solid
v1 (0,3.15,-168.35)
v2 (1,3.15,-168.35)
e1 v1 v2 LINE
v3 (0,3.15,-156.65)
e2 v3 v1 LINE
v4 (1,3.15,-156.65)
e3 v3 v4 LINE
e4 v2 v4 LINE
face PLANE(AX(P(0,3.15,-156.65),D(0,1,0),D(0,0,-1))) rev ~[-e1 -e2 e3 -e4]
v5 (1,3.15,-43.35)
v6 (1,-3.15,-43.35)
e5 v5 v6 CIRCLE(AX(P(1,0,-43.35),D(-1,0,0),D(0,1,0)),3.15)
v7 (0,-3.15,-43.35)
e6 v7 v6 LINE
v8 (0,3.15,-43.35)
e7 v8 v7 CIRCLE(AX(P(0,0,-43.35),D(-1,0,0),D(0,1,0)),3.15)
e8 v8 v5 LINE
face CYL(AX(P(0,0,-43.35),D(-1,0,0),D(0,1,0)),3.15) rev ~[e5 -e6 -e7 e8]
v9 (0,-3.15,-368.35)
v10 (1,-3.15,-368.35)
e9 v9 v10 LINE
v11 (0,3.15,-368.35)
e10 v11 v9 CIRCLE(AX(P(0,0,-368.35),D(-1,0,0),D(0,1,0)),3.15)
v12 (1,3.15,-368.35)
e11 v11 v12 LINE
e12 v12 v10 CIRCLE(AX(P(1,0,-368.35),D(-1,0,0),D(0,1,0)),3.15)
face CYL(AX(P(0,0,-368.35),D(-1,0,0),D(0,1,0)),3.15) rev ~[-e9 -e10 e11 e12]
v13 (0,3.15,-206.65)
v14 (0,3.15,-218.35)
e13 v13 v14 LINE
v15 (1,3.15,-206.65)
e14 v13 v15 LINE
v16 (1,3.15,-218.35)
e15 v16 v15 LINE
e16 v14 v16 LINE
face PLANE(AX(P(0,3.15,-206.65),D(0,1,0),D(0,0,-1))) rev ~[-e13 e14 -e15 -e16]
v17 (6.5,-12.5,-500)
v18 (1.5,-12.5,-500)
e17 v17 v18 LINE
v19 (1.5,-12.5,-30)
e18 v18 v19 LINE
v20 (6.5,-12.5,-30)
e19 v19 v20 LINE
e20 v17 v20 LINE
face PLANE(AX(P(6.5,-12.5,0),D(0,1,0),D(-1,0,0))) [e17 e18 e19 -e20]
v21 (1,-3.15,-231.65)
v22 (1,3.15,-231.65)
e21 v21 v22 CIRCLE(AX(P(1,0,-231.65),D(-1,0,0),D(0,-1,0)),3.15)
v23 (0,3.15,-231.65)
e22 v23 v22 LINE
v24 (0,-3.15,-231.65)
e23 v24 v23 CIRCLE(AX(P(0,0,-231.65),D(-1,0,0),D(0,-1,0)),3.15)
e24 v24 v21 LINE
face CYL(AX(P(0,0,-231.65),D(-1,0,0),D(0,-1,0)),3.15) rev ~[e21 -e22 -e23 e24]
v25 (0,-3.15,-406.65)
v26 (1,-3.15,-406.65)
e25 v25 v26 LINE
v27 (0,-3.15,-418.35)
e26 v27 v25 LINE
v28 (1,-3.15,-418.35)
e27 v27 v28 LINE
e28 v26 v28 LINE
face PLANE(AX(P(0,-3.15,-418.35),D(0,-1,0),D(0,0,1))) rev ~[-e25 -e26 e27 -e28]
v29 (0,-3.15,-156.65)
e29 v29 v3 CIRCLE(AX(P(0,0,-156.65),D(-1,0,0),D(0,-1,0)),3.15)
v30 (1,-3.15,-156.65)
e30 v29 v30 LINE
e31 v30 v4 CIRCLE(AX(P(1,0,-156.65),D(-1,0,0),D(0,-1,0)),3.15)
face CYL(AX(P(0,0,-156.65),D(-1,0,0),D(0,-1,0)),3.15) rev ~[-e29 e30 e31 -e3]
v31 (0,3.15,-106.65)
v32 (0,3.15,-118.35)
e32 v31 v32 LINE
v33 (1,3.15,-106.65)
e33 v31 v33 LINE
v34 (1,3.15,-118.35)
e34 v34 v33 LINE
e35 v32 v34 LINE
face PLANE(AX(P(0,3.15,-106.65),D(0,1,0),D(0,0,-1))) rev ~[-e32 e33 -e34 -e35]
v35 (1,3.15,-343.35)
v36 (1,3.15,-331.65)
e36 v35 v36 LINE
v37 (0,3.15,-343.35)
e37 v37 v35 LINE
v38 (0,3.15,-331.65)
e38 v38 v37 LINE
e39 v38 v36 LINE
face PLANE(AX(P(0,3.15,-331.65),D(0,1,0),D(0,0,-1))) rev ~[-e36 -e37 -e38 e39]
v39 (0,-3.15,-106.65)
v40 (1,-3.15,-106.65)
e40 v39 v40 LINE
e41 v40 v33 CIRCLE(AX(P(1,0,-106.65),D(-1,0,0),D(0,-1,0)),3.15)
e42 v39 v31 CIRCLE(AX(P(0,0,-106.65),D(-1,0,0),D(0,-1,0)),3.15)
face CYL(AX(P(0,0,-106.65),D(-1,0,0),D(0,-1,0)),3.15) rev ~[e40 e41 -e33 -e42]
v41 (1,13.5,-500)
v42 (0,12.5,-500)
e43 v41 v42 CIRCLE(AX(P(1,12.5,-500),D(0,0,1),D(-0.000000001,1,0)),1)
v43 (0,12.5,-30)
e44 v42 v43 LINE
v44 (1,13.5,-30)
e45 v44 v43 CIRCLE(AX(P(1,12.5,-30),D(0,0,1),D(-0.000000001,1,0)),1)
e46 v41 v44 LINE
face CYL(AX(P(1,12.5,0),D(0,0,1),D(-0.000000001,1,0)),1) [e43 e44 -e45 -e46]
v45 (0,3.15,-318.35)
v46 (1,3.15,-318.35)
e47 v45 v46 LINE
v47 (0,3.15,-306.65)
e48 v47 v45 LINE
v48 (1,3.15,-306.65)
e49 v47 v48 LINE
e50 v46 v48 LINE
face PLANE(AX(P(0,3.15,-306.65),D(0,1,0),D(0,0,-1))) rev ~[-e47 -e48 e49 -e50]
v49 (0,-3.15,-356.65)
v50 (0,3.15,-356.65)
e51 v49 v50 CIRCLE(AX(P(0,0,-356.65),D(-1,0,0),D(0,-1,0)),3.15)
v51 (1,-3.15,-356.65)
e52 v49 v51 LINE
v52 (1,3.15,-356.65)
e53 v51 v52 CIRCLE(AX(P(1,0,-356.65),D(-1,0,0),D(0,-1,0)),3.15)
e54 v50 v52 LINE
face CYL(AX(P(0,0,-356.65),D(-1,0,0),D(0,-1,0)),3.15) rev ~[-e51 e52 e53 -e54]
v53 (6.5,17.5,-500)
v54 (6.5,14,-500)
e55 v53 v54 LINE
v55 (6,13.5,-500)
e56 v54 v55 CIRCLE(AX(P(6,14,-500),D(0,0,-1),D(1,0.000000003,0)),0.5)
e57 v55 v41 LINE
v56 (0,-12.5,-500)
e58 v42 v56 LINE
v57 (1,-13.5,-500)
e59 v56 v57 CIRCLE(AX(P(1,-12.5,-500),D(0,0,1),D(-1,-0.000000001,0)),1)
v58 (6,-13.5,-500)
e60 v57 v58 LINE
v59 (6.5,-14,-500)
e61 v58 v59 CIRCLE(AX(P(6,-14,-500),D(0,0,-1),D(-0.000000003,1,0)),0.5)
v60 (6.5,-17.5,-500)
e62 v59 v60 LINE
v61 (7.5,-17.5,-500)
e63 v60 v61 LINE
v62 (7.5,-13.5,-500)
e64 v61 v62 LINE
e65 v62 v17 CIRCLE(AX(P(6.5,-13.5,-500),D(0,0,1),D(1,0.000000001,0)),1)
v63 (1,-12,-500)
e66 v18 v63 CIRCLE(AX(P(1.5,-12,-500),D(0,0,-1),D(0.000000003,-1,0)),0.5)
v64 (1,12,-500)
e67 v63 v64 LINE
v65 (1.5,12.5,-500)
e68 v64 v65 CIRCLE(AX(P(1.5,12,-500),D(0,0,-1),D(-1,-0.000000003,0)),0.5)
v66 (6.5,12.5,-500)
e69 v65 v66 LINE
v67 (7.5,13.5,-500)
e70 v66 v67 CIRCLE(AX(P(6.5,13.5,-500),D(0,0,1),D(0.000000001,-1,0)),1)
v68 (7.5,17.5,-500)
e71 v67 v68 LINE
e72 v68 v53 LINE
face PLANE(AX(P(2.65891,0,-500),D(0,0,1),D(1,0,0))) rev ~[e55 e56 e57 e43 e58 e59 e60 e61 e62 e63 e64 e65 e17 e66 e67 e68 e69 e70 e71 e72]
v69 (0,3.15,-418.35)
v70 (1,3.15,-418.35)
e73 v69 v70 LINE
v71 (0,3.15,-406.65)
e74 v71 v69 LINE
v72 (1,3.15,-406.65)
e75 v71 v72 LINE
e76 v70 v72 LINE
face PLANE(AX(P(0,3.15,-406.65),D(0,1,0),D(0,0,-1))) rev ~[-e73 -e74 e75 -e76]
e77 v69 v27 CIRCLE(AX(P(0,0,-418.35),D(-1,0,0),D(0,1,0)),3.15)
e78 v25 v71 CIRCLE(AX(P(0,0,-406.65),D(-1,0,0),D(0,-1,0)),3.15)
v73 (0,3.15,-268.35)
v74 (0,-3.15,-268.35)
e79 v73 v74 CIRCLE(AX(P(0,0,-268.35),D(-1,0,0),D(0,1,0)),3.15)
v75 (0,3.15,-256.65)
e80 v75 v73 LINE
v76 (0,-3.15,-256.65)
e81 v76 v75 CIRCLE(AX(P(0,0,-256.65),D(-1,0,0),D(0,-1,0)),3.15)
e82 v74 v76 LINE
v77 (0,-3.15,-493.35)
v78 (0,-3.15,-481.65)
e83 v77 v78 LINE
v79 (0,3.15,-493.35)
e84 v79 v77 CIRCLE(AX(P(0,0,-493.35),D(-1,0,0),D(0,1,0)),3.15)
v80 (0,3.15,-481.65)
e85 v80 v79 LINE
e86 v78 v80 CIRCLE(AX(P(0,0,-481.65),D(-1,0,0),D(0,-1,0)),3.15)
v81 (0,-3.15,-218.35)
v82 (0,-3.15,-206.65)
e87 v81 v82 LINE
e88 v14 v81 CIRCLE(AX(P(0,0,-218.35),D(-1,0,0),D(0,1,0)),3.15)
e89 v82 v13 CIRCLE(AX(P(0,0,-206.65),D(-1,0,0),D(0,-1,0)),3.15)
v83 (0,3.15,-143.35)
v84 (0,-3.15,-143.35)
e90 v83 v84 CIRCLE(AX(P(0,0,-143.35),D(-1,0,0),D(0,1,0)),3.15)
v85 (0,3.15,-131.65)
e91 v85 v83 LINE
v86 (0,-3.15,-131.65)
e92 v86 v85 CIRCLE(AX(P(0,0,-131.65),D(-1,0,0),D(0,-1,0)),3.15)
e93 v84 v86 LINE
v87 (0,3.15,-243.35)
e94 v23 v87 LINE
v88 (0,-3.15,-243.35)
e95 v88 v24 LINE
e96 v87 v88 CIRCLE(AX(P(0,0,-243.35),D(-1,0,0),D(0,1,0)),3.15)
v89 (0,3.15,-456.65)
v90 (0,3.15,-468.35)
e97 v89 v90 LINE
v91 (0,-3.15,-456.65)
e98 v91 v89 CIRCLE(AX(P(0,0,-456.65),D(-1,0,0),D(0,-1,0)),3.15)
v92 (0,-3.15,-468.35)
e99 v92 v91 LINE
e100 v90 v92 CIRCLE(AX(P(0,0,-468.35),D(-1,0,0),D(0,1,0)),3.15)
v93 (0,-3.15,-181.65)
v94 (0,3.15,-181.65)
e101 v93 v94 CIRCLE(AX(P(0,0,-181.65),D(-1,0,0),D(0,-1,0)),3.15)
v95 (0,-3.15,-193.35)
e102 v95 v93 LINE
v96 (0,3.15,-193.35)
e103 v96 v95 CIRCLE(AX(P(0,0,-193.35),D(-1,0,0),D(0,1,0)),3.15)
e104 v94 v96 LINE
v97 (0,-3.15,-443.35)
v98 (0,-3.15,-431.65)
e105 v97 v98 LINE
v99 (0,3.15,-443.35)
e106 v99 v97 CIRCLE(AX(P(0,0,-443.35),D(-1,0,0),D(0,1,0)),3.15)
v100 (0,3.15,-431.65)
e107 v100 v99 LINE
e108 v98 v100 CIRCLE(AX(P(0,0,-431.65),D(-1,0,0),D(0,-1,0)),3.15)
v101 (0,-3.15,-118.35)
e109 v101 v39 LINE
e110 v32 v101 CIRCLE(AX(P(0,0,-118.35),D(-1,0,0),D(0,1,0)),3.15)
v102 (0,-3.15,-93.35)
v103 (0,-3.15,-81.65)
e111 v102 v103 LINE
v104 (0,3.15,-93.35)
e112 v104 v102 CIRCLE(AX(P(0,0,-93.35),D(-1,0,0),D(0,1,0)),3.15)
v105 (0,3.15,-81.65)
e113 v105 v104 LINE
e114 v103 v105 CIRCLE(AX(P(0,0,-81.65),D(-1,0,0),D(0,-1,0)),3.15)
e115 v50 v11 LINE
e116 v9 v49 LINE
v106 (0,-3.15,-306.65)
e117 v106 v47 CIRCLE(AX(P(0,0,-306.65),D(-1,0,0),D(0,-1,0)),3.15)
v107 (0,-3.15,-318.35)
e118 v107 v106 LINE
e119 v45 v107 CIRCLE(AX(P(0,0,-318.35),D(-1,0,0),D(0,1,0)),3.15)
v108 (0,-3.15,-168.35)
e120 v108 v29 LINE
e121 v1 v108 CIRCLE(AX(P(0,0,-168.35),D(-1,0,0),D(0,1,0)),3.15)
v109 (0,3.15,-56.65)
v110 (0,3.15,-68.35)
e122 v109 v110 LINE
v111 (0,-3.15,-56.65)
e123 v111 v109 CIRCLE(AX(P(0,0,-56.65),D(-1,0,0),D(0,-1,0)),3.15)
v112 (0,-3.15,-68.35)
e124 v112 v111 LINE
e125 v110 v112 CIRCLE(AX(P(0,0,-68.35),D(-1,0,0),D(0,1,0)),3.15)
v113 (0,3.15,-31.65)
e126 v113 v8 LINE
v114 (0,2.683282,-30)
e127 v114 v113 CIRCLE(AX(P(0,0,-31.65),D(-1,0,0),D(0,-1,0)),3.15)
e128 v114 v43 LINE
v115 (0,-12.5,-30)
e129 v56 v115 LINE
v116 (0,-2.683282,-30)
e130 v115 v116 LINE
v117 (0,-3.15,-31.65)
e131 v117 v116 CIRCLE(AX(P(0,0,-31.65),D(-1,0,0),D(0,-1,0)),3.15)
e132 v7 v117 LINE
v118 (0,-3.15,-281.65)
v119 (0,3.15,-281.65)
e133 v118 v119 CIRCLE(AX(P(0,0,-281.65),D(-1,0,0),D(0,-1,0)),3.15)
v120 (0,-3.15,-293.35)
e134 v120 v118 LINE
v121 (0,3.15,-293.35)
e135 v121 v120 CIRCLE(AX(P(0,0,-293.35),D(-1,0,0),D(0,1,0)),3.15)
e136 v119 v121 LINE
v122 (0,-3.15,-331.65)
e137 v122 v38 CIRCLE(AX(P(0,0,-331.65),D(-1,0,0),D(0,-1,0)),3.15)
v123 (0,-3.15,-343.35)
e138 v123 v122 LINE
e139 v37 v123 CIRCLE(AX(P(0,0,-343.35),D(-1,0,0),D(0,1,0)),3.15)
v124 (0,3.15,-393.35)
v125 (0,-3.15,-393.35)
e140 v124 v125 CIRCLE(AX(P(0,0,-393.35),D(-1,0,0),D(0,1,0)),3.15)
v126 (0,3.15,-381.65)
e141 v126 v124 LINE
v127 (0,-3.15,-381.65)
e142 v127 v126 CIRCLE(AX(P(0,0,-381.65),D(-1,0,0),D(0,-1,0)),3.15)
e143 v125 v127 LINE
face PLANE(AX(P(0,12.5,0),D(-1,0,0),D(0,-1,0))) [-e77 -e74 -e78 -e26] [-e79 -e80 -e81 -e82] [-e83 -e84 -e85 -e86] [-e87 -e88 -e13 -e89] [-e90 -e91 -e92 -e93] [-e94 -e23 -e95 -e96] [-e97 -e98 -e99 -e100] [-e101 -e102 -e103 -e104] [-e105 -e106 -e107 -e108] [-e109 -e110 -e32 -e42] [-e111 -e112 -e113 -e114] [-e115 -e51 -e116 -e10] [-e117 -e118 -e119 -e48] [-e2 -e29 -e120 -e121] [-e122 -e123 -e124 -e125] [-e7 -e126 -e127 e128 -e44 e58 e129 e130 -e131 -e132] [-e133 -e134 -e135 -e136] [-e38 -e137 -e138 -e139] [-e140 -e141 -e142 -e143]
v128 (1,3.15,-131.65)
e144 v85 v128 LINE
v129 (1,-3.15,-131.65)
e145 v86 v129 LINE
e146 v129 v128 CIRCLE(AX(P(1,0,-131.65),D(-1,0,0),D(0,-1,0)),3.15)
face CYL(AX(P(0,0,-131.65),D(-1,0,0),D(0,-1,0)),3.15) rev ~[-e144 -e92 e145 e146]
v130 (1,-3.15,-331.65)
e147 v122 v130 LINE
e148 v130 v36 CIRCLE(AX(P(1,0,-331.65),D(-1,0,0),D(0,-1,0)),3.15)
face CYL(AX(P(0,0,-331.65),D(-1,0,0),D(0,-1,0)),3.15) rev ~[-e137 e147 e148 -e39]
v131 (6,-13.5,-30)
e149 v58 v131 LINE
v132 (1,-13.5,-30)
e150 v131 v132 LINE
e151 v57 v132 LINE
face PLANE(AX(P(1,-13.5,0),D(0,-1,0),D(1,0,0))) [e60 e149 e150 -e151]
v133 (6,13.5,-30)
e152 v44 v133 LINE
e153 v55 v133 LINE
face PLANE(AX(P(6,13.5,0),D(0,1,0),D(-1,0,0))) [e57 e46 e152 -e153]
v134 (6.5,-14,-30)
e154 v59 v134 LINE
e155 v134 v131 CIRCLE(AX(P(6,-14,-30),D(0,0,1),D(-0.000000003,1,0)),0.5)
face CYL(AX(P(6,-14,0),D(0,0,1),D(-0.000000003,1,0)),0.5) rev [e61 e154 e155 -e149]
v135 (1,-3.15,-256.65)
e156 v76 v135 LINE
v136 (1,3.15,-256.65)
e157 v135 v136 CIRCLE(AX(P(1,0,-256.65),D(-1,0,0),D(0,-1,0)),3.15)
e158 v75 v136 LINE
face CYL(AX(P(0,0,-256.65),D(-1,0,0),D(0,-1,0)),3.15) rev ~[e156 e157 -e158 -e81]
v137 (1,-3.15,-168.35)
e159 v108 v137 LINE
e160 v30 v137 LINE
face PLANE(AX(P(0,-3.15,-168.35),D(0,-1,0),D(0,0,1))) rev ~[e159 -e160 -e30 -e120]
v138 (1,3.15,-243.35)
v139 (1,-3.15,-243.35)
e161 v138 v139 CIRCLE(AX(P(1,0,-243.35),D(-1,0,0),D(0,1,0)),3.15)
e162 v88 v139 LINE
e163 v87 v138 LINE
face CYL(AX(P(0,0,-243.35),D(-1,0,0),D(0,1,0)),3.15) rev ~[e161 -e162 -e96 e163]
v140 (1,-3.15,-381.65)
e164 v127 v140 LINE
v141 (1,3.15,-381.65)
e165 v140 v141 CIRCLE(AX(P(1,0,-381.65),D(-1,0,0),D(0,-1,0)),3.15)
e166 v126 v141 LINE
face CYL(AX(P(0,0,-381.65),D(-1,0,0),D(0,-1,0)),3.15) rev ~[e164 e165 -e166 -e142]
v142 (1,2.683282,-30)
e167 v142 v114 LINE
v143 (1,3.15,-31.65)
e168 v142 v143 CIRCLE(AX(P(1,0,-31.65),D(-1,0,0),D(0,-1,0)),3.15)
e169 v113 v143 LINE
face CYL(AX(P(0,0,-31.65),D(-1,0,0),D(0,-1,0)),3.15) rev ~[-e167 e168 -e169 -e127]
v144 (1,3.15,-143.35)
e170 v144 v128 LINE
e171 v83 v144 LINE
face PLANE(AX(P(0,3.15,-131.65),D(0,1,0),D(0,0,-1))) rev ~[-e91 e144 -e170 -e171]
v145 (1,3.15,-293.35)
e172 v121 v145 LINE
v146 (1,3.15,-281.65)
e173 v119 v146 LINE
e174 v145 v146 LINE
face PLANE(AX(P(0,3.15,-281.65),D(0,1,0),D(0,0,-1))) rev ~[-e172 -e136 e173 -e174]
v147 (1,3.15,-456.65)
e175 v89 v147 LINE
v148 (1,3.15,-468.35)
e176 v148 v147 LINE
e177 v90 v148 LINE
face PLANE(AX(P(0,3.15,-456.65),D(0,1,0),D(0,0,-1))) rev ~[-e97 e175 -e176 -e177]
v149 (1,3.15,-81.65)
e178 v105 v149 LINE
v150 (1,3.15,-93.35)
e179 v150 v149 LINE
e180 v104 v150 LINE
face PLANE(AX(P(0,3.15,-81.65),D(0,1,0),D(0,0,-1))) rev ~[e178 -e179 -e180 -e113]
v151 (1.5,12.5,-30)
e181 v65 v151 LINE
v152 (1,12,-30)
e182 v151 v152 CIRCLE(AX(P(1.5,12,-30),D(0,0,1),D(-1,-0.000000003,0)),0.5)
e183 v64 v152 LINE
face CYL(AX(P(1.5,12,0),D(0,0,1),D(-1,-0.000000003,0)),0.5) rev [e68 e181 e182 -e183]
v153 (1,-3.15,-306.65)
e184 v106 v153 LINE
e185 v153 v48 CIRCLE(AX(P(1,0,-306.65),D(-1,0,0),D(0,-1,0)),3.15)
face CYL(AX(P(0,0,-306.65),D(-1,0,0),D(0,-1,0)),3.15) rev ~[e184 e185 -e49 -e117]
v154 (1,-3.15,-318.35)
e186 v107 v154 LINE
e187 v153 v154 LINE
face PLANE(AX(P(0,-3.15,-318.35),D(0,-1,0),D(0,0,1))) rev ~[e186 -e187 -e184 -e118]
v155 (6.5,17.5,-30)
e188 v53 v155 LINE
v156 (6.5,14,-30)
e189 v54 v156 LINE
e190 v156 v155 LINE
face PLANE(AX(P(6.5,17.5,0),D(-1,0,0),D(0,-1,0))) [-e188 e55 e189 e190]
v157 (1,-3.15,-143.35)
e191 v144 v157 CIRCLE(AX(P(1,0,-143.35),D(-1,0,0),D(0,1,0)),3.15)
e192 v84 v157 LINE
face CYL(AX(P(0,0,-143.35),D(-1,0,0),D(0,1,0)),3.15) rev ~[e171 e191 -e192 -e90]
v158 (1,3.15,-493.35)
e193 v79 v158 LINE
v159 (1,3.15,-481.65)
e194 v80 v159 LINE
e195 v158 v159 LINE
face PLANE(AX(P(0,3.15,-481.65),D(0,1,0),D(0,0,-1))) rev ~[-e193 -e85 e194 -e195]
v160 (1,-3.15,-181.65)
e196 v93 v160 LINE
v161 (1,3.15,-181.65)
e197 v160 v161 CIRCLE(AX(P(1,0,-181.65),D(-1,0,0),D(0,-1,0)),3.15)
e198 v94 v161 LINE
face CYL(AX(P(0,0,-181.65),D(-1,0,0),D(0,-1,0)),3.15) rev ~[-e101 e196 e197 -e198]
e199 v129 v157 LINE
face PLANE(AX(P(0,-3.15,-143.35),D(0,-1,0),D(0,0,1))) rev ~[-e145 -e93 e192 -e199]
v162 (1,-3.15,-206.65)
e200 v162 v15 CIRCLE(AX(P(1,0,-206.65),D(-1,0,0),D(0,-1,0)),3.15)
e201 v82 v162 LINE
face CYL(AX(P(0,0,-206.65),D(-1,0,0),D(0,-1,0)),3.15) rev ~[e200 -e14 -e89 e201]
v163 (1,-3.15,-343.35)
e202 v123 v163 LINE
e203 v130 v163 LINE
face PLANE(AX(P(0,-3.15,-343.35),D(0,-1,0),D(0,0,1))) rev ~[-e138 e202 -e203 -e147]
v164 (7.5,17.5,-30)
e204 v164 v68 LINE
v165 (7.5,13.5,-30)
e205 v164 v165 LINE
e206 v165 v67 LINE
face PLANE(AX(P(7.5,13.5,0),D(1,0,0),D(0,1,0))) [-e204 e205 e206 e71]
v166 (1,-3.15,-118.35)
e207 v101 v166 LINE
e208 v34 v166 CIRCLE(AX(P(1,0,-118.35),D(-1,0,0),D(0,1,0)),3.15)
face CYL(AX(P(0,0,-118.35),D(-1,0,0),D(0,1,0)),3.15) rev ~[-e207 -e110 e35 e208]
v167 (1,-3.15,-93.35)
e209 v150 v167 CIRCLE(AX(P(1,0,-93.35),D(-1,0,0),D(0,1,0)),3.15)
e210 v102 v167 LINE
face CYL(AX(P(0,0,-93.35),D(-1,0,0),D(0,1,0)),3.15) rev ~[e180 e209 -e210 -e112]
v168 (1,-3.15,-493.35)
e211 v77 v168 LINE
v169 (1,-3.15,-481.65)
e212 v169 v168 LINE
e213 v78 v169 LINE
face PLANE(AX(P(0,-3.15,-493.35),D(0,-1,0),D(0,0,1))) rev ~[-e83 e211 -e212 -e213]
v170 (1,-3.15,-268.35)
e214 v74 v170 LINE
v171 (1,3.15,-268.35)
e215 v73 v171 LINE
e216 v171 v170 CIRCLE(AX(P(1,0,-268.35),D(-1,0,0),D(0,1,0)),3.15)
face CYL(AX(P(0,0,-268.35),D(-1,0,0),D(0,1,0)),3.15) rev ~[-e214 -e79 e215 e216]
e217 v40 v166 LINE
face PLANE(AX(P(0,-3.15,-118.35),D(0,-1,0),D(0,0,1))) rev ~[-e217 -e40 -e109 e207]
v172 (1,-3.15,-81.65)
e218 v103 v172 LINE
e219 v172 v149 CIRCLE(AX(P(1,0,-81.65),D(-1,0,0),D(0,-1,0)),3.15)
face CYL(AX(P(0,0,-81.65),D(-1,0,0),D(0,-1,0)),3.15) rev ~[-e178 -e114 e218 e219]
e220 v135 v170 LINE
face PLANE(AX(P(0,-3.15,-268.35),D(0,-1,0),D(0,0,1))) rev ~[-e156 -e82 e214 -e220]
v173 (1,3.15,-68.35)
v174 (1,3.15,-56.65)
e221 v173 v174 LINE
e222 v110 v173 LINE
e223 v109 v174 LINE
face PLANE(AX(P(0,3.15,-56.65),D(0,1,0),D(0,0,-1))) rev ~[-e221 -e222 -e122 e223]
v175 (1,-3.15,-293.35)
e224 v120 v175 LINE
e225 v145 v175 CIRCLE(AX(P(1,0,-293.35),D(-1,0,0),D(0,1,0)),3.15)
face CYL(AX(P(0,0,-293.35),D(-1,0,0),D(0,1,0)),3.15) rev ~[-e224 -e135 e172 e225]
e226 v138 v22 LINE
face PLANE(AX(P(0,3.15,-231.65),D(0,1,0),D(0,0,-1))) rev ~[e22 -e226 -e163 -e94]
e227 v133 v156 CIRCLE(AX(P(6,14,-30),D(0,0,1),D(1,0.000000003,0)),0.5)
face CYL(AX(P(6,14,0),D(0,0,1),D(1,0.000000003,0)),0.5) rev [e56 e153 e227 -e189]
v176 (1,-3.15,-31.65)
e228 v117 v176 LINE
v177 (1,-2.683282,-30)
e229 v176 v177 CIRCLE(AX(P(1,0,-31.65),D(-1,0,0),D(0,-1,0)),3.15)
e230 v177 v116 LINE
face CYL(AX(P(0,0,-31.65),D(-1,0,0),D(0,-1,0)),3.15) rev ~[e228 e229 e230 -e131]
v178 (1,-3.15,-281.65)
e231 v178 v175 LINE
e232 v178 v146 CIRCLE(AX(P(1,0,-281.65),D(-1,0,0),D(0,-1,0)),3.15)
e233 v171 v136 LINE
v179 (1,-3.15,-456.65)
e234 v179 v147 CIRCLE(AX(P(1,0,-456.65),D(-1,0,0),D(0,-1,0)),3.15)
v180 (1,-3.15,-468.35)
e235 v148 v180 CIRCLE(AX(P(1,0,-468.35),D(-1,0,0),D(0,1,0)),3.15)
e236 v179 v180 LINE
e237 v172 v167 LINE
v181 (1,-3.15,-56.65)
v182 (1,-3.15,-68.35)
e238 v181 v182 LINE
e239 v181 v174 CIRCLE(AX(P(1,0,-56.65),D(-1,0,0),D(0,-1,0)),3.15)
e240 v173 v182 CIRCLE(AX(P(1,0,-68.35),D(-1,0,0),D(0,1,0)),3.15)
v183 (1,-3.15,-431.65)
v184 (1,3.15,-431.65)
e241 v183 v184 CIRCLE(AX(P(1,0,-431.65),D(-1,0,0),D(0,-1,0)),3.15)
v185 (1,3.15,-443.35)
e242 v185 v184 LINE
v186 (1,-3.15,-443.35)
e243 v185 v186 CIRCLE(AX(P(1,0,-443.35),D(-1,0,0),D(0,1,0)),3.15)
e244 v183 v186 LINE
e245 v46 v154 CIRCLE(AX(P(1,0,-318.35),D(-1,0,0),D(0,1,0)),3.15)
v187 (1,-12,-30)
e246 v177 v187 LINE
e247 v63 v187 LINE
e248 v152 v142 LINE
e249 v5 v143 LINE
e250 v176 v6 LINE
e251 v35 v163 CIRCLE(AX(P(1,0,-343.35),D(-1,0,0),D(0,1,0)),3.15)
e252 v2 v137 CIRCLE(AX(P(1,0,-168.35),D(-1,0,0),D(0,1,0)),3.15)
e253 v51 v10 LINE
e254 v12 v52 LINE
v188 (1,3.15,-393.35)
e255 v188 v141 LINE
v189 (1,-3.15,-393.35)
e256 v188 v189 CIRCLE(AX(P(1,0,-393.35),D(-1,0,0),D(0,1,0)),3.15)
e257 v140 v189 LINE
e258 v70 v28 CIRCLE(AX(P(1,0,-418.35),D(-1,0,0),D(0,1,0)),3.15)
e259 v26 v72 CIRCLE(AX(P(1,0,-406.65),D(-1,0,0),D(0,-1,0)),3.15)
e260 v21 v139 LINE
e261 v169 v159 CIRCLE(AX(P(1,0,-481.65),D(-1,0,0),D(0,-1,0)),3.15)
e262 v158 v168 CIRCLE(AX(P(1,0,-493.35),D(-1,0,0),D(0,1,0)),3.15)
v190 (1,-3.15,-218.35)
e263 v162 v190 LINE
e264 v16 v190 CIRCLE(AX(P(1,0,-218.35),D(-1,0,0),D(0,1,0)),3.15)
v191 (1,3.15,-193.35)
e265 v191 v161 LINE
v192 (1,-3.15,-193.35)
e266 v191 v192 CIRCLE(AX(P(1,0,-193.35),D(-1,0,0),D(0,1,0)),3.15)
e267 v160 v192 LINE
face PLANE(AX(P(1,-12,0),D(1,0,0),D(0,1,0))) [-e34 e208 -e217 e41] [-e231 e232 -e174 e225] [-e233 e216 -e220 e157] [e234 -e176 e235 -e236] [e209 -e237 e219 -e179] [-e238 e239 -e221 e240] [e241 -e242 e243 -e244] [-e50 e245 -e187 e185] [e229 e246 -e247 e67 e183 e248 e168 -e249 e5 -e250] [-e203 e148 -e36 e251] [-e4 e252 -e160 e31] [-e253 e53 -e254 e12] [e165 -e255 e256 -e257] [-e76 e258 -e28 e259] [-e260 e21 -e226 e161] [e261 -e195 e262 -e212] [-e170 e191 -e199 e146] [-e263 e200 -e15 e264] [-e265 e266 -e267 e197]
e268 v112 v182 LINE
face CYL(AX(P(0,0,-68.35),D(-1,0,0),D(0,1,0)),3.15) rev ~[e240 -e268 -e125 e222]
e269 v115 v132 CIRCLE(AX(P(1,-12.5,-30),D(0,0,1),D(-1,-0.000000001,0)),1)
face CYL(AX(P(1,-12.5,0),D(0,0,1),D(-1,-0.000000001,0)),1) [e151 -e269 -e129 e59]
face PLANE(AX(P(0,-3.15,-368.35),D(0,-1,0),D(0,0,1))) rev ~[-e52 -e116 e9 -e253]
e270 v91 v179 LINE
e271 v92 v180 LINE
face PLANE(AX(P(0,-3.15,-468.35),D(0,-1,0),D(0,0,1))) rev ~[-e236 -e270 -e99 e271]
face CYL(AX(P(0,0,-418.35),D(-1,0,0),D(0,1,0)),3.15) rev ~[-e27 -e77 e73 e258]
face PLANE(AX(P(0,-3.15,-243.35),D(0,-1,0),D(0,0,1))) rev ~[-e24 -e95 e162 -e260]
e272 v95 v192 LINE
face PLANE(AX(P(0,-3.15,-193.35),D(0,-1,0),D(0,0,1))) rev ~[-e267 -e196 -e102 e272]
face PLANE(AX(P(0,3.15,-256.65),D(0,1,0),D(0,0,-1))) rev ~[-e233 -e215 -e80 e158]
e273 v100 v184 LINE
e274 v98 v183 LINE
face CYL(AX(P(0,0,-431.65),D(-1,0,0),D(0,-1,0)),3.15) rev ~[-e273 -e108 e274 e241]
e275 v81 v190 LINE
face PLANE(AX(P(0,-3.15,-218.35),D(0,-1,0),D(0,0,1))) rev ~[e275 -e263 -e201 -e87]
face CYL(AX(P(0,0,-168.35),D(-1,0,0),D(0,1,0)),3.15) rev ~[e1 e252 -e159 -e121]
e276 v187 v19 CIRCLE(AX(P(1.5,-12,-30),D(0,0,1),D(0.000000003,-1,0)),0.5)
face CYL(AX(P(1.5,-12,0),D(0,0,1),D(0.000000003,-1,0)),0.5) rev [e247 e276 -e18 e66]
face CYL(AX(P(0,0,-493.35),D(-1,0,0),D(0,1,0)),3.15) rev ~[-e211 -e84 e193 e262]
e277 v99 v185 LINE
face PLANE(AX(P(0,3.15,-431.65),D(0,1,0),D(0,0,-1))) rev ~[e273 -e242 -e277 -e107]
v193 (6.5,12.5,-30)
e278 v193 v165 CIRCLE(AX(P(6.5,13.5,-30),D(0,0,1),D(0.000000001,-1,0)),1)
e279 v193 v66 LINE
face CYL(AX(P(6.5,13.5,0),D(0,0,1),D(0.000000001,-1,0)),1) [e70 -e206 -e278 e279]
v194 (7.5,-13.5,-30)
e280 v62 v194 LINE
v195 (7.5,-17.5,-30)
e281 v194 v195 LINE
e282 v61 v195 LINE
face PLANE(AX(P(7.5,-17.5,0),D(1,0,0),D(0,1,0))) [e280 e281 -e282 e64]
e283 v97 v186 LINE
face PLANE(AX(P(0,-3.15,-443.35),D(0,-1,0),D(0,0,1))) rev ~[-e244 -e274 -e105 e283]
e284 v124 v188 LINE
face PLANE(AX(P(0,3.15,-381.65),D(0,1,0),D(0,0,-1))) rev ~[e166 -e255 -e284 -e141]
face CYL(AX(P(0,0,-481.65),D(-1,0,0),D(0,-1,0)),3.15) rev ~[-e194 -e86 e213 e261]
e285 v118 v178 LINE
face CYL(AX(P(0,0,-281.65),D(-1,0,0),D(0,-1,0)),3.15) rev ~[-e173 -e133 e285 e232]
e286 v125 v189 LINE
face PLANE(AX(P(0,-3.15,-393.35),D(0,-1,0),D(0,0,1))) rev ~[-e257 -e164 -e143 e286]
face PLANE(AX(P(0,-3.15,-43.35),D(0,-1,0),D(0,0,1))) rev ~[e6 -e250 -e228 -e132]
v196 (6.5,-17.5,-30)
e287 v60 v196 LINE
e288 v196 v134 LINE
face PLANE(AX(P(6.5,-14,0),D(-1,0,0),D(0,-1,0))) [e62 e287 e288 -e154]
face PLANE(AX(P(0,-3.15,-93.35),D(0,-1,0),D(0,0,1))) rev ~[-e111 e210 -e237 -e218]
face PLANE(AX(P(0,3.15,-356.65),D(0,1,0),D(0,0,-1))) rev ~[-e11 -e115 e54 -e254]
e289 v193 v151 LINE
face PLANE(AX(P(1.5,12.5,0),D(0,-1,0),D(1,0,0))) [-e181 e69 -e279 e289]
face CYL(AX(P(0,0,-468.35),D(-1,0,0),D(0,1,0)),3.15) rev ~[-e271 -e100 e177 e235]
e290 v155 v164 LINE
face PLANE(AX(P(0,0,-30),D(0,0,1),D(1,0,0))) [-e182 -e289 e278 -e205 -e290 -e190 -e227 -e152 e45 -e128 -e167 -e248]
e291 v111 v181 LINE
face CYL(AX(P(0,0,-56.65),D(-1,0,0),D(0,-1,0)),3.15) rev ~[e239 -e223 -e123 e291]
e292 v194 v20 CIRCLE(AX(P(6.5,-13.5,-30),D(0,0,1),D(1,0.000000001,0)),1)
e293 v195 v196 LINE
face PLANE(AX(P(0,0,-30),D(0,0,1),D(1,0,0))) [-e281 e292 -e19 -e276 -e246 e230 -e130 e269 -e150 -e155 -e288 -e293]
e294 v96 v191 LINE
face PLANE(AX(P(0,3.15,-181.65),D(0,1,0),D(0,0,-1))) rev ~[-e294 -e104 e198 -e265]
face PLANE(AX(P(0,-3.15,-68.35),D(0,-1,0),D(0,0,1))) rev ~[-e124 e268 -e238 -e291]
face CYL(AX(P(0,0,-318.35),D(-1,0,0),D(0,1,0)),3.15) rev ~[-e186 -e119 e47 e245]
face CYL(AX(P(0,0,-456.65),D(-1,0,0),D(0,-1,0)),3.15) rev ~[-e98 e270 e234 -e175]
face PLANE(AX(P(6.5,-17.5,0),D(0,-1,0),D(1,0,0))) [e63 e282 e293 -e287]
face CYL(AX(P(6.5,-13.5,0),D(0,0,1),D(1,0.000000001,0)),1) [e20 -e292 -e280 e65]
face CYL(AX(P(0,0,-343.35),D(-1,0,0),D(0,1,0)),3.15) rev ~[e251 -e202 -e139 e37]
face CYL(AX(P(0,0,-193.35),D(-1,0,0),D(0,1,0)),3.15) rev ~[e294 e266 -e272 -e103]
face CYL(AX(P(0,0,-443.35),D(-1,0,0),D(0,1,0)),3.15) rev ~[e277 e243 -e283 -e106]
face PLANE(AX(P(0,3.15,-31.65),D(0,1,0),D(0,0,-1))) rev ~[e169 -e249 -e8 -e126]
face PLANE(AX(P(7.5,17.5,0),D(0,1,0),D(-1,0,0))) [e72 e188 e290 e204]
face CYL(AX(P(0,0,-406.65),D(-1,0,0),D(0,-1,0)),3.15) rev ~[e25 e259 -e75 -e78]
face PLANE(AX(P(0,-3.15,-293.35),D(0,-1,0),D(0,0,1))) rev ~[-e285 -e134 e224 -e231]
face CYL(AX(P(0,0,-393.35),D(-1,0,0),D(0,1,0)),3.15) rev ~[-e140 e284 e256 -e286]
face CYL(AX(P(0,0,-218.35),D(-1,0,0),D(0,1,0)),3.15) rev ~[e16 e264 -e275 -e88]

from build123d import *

# Parameters (mm, degrees)
BOSS_EXTRUDE1_DEPTH = 500
CUT_EXTRUDE1_DEPTH  = 7.5
LPATTERN1_COUNT     = 40
LPATTERN1_PITCH     = 25
SKETCH3_W           = 59.422885842
SKETCH3_H           = 88.158569076
CUT_EXTRUDE2_DEPTH  = 530


with BuildPart() as part:
    # Sketch1 → Boss-Extrude1 (new, symmetric)
    with BuildSketch(Plane.XY):
        with BuildLine():
            Line((7.5, 17.5), (6.5, 17.5))
            Line((6.5, 17.5), (6.5, 14))
            ThreePointArc((6.5, 14), (6.353553391, 13.646446609), (6, 13.5))
            Line((6, 13.5), (1, 13.5))
            ThreePointArc((1, 13.5), (0.292893219, 13.207106781), (0, 12.5))
            Line((0, 12.5), (0, -12.5))
            ThreePointArc((0, -12.5), (0.292893219, -13.207106781), (1, -13.5))
            Line((1, -13.5), (6, -13.5))
            ThreePointArc((6, -13.5), (6.353553391, -13.646446609), (6.5, -14))
            Line((6.5, -14), (6.5, -17.5))
            Line((6.5, -17.5), (7.5, -17.5))
            Line((7.5, -17.5), (7.5, -13.5))
            ThreePointArc((7.5, -13.5), (7.207106781, -12.792893219), (6.5, -12.5))
            Line((6.5, -12.5), (1.5, -12.5))
            ThreePointArc((1.5, -12.5), (1.146446609, -12.353553391), (1, -12))
            Line((1, -12), (1, 12))
            ThreePointArc((1, 12), (1.146446609, 12.353553391), (1.5, 12.5))
            Line((1.5, 12.5), (6.5, 12.5))
            ThreePointArc((6.5, 12.5), (7.207106781, 12.792893219), (7.5, 13.5))
            Line((7.5, 13.5), (7.5, 17.5))
        make_face()
    extrude(amount=BOSS_EXTRUDE1_DEPTH, both=True)

    # Sketch2 → Cut-Extrude1 (cut)
    with BuildSketch(Plane(origin=(0, 0, 0), x_dir=(0, 0, -1), z_dir=(1, 0, 0))):
        with BuildLine():
            Line((-493.35, 3.15), (-481.65, 3.15))
            ThreePointArc((-481.65, 3.15), (-478.5, 0), (-481.65, -3.15))
            Line((-481.65, -3.15), (-493.35, -3.15))
            ThreePointArc((-493.35, -3.15), (-496.5, 0), (-493.35, 3.15))
        make_face()
    cut_extrude1 = extrude(amount=CUT_EXTRUDE1_DEPTH, mode=Mode.SUBTRACT)

    # LPattern1: Cut-Extrude1 ×40
    with Locations(*[(0, 0, -i * LPATTERN1_PITCH) for i in range(1, LPATTERN1_COUNT)]):
        add(cut_extrude1, mode=Mode.SUBTRACT)

    # Sketch3 → Cut-Extrude2 (cut)
    with BuildSketch(Plane.XY.offset(500)):
        Rectangle(SKETCH3_W, SKETCH3_H)
    extrude(amount=-CUT_EXTRUDE2_DEPTH, mode=Mode.SUBTRACT)


solid = part.part
